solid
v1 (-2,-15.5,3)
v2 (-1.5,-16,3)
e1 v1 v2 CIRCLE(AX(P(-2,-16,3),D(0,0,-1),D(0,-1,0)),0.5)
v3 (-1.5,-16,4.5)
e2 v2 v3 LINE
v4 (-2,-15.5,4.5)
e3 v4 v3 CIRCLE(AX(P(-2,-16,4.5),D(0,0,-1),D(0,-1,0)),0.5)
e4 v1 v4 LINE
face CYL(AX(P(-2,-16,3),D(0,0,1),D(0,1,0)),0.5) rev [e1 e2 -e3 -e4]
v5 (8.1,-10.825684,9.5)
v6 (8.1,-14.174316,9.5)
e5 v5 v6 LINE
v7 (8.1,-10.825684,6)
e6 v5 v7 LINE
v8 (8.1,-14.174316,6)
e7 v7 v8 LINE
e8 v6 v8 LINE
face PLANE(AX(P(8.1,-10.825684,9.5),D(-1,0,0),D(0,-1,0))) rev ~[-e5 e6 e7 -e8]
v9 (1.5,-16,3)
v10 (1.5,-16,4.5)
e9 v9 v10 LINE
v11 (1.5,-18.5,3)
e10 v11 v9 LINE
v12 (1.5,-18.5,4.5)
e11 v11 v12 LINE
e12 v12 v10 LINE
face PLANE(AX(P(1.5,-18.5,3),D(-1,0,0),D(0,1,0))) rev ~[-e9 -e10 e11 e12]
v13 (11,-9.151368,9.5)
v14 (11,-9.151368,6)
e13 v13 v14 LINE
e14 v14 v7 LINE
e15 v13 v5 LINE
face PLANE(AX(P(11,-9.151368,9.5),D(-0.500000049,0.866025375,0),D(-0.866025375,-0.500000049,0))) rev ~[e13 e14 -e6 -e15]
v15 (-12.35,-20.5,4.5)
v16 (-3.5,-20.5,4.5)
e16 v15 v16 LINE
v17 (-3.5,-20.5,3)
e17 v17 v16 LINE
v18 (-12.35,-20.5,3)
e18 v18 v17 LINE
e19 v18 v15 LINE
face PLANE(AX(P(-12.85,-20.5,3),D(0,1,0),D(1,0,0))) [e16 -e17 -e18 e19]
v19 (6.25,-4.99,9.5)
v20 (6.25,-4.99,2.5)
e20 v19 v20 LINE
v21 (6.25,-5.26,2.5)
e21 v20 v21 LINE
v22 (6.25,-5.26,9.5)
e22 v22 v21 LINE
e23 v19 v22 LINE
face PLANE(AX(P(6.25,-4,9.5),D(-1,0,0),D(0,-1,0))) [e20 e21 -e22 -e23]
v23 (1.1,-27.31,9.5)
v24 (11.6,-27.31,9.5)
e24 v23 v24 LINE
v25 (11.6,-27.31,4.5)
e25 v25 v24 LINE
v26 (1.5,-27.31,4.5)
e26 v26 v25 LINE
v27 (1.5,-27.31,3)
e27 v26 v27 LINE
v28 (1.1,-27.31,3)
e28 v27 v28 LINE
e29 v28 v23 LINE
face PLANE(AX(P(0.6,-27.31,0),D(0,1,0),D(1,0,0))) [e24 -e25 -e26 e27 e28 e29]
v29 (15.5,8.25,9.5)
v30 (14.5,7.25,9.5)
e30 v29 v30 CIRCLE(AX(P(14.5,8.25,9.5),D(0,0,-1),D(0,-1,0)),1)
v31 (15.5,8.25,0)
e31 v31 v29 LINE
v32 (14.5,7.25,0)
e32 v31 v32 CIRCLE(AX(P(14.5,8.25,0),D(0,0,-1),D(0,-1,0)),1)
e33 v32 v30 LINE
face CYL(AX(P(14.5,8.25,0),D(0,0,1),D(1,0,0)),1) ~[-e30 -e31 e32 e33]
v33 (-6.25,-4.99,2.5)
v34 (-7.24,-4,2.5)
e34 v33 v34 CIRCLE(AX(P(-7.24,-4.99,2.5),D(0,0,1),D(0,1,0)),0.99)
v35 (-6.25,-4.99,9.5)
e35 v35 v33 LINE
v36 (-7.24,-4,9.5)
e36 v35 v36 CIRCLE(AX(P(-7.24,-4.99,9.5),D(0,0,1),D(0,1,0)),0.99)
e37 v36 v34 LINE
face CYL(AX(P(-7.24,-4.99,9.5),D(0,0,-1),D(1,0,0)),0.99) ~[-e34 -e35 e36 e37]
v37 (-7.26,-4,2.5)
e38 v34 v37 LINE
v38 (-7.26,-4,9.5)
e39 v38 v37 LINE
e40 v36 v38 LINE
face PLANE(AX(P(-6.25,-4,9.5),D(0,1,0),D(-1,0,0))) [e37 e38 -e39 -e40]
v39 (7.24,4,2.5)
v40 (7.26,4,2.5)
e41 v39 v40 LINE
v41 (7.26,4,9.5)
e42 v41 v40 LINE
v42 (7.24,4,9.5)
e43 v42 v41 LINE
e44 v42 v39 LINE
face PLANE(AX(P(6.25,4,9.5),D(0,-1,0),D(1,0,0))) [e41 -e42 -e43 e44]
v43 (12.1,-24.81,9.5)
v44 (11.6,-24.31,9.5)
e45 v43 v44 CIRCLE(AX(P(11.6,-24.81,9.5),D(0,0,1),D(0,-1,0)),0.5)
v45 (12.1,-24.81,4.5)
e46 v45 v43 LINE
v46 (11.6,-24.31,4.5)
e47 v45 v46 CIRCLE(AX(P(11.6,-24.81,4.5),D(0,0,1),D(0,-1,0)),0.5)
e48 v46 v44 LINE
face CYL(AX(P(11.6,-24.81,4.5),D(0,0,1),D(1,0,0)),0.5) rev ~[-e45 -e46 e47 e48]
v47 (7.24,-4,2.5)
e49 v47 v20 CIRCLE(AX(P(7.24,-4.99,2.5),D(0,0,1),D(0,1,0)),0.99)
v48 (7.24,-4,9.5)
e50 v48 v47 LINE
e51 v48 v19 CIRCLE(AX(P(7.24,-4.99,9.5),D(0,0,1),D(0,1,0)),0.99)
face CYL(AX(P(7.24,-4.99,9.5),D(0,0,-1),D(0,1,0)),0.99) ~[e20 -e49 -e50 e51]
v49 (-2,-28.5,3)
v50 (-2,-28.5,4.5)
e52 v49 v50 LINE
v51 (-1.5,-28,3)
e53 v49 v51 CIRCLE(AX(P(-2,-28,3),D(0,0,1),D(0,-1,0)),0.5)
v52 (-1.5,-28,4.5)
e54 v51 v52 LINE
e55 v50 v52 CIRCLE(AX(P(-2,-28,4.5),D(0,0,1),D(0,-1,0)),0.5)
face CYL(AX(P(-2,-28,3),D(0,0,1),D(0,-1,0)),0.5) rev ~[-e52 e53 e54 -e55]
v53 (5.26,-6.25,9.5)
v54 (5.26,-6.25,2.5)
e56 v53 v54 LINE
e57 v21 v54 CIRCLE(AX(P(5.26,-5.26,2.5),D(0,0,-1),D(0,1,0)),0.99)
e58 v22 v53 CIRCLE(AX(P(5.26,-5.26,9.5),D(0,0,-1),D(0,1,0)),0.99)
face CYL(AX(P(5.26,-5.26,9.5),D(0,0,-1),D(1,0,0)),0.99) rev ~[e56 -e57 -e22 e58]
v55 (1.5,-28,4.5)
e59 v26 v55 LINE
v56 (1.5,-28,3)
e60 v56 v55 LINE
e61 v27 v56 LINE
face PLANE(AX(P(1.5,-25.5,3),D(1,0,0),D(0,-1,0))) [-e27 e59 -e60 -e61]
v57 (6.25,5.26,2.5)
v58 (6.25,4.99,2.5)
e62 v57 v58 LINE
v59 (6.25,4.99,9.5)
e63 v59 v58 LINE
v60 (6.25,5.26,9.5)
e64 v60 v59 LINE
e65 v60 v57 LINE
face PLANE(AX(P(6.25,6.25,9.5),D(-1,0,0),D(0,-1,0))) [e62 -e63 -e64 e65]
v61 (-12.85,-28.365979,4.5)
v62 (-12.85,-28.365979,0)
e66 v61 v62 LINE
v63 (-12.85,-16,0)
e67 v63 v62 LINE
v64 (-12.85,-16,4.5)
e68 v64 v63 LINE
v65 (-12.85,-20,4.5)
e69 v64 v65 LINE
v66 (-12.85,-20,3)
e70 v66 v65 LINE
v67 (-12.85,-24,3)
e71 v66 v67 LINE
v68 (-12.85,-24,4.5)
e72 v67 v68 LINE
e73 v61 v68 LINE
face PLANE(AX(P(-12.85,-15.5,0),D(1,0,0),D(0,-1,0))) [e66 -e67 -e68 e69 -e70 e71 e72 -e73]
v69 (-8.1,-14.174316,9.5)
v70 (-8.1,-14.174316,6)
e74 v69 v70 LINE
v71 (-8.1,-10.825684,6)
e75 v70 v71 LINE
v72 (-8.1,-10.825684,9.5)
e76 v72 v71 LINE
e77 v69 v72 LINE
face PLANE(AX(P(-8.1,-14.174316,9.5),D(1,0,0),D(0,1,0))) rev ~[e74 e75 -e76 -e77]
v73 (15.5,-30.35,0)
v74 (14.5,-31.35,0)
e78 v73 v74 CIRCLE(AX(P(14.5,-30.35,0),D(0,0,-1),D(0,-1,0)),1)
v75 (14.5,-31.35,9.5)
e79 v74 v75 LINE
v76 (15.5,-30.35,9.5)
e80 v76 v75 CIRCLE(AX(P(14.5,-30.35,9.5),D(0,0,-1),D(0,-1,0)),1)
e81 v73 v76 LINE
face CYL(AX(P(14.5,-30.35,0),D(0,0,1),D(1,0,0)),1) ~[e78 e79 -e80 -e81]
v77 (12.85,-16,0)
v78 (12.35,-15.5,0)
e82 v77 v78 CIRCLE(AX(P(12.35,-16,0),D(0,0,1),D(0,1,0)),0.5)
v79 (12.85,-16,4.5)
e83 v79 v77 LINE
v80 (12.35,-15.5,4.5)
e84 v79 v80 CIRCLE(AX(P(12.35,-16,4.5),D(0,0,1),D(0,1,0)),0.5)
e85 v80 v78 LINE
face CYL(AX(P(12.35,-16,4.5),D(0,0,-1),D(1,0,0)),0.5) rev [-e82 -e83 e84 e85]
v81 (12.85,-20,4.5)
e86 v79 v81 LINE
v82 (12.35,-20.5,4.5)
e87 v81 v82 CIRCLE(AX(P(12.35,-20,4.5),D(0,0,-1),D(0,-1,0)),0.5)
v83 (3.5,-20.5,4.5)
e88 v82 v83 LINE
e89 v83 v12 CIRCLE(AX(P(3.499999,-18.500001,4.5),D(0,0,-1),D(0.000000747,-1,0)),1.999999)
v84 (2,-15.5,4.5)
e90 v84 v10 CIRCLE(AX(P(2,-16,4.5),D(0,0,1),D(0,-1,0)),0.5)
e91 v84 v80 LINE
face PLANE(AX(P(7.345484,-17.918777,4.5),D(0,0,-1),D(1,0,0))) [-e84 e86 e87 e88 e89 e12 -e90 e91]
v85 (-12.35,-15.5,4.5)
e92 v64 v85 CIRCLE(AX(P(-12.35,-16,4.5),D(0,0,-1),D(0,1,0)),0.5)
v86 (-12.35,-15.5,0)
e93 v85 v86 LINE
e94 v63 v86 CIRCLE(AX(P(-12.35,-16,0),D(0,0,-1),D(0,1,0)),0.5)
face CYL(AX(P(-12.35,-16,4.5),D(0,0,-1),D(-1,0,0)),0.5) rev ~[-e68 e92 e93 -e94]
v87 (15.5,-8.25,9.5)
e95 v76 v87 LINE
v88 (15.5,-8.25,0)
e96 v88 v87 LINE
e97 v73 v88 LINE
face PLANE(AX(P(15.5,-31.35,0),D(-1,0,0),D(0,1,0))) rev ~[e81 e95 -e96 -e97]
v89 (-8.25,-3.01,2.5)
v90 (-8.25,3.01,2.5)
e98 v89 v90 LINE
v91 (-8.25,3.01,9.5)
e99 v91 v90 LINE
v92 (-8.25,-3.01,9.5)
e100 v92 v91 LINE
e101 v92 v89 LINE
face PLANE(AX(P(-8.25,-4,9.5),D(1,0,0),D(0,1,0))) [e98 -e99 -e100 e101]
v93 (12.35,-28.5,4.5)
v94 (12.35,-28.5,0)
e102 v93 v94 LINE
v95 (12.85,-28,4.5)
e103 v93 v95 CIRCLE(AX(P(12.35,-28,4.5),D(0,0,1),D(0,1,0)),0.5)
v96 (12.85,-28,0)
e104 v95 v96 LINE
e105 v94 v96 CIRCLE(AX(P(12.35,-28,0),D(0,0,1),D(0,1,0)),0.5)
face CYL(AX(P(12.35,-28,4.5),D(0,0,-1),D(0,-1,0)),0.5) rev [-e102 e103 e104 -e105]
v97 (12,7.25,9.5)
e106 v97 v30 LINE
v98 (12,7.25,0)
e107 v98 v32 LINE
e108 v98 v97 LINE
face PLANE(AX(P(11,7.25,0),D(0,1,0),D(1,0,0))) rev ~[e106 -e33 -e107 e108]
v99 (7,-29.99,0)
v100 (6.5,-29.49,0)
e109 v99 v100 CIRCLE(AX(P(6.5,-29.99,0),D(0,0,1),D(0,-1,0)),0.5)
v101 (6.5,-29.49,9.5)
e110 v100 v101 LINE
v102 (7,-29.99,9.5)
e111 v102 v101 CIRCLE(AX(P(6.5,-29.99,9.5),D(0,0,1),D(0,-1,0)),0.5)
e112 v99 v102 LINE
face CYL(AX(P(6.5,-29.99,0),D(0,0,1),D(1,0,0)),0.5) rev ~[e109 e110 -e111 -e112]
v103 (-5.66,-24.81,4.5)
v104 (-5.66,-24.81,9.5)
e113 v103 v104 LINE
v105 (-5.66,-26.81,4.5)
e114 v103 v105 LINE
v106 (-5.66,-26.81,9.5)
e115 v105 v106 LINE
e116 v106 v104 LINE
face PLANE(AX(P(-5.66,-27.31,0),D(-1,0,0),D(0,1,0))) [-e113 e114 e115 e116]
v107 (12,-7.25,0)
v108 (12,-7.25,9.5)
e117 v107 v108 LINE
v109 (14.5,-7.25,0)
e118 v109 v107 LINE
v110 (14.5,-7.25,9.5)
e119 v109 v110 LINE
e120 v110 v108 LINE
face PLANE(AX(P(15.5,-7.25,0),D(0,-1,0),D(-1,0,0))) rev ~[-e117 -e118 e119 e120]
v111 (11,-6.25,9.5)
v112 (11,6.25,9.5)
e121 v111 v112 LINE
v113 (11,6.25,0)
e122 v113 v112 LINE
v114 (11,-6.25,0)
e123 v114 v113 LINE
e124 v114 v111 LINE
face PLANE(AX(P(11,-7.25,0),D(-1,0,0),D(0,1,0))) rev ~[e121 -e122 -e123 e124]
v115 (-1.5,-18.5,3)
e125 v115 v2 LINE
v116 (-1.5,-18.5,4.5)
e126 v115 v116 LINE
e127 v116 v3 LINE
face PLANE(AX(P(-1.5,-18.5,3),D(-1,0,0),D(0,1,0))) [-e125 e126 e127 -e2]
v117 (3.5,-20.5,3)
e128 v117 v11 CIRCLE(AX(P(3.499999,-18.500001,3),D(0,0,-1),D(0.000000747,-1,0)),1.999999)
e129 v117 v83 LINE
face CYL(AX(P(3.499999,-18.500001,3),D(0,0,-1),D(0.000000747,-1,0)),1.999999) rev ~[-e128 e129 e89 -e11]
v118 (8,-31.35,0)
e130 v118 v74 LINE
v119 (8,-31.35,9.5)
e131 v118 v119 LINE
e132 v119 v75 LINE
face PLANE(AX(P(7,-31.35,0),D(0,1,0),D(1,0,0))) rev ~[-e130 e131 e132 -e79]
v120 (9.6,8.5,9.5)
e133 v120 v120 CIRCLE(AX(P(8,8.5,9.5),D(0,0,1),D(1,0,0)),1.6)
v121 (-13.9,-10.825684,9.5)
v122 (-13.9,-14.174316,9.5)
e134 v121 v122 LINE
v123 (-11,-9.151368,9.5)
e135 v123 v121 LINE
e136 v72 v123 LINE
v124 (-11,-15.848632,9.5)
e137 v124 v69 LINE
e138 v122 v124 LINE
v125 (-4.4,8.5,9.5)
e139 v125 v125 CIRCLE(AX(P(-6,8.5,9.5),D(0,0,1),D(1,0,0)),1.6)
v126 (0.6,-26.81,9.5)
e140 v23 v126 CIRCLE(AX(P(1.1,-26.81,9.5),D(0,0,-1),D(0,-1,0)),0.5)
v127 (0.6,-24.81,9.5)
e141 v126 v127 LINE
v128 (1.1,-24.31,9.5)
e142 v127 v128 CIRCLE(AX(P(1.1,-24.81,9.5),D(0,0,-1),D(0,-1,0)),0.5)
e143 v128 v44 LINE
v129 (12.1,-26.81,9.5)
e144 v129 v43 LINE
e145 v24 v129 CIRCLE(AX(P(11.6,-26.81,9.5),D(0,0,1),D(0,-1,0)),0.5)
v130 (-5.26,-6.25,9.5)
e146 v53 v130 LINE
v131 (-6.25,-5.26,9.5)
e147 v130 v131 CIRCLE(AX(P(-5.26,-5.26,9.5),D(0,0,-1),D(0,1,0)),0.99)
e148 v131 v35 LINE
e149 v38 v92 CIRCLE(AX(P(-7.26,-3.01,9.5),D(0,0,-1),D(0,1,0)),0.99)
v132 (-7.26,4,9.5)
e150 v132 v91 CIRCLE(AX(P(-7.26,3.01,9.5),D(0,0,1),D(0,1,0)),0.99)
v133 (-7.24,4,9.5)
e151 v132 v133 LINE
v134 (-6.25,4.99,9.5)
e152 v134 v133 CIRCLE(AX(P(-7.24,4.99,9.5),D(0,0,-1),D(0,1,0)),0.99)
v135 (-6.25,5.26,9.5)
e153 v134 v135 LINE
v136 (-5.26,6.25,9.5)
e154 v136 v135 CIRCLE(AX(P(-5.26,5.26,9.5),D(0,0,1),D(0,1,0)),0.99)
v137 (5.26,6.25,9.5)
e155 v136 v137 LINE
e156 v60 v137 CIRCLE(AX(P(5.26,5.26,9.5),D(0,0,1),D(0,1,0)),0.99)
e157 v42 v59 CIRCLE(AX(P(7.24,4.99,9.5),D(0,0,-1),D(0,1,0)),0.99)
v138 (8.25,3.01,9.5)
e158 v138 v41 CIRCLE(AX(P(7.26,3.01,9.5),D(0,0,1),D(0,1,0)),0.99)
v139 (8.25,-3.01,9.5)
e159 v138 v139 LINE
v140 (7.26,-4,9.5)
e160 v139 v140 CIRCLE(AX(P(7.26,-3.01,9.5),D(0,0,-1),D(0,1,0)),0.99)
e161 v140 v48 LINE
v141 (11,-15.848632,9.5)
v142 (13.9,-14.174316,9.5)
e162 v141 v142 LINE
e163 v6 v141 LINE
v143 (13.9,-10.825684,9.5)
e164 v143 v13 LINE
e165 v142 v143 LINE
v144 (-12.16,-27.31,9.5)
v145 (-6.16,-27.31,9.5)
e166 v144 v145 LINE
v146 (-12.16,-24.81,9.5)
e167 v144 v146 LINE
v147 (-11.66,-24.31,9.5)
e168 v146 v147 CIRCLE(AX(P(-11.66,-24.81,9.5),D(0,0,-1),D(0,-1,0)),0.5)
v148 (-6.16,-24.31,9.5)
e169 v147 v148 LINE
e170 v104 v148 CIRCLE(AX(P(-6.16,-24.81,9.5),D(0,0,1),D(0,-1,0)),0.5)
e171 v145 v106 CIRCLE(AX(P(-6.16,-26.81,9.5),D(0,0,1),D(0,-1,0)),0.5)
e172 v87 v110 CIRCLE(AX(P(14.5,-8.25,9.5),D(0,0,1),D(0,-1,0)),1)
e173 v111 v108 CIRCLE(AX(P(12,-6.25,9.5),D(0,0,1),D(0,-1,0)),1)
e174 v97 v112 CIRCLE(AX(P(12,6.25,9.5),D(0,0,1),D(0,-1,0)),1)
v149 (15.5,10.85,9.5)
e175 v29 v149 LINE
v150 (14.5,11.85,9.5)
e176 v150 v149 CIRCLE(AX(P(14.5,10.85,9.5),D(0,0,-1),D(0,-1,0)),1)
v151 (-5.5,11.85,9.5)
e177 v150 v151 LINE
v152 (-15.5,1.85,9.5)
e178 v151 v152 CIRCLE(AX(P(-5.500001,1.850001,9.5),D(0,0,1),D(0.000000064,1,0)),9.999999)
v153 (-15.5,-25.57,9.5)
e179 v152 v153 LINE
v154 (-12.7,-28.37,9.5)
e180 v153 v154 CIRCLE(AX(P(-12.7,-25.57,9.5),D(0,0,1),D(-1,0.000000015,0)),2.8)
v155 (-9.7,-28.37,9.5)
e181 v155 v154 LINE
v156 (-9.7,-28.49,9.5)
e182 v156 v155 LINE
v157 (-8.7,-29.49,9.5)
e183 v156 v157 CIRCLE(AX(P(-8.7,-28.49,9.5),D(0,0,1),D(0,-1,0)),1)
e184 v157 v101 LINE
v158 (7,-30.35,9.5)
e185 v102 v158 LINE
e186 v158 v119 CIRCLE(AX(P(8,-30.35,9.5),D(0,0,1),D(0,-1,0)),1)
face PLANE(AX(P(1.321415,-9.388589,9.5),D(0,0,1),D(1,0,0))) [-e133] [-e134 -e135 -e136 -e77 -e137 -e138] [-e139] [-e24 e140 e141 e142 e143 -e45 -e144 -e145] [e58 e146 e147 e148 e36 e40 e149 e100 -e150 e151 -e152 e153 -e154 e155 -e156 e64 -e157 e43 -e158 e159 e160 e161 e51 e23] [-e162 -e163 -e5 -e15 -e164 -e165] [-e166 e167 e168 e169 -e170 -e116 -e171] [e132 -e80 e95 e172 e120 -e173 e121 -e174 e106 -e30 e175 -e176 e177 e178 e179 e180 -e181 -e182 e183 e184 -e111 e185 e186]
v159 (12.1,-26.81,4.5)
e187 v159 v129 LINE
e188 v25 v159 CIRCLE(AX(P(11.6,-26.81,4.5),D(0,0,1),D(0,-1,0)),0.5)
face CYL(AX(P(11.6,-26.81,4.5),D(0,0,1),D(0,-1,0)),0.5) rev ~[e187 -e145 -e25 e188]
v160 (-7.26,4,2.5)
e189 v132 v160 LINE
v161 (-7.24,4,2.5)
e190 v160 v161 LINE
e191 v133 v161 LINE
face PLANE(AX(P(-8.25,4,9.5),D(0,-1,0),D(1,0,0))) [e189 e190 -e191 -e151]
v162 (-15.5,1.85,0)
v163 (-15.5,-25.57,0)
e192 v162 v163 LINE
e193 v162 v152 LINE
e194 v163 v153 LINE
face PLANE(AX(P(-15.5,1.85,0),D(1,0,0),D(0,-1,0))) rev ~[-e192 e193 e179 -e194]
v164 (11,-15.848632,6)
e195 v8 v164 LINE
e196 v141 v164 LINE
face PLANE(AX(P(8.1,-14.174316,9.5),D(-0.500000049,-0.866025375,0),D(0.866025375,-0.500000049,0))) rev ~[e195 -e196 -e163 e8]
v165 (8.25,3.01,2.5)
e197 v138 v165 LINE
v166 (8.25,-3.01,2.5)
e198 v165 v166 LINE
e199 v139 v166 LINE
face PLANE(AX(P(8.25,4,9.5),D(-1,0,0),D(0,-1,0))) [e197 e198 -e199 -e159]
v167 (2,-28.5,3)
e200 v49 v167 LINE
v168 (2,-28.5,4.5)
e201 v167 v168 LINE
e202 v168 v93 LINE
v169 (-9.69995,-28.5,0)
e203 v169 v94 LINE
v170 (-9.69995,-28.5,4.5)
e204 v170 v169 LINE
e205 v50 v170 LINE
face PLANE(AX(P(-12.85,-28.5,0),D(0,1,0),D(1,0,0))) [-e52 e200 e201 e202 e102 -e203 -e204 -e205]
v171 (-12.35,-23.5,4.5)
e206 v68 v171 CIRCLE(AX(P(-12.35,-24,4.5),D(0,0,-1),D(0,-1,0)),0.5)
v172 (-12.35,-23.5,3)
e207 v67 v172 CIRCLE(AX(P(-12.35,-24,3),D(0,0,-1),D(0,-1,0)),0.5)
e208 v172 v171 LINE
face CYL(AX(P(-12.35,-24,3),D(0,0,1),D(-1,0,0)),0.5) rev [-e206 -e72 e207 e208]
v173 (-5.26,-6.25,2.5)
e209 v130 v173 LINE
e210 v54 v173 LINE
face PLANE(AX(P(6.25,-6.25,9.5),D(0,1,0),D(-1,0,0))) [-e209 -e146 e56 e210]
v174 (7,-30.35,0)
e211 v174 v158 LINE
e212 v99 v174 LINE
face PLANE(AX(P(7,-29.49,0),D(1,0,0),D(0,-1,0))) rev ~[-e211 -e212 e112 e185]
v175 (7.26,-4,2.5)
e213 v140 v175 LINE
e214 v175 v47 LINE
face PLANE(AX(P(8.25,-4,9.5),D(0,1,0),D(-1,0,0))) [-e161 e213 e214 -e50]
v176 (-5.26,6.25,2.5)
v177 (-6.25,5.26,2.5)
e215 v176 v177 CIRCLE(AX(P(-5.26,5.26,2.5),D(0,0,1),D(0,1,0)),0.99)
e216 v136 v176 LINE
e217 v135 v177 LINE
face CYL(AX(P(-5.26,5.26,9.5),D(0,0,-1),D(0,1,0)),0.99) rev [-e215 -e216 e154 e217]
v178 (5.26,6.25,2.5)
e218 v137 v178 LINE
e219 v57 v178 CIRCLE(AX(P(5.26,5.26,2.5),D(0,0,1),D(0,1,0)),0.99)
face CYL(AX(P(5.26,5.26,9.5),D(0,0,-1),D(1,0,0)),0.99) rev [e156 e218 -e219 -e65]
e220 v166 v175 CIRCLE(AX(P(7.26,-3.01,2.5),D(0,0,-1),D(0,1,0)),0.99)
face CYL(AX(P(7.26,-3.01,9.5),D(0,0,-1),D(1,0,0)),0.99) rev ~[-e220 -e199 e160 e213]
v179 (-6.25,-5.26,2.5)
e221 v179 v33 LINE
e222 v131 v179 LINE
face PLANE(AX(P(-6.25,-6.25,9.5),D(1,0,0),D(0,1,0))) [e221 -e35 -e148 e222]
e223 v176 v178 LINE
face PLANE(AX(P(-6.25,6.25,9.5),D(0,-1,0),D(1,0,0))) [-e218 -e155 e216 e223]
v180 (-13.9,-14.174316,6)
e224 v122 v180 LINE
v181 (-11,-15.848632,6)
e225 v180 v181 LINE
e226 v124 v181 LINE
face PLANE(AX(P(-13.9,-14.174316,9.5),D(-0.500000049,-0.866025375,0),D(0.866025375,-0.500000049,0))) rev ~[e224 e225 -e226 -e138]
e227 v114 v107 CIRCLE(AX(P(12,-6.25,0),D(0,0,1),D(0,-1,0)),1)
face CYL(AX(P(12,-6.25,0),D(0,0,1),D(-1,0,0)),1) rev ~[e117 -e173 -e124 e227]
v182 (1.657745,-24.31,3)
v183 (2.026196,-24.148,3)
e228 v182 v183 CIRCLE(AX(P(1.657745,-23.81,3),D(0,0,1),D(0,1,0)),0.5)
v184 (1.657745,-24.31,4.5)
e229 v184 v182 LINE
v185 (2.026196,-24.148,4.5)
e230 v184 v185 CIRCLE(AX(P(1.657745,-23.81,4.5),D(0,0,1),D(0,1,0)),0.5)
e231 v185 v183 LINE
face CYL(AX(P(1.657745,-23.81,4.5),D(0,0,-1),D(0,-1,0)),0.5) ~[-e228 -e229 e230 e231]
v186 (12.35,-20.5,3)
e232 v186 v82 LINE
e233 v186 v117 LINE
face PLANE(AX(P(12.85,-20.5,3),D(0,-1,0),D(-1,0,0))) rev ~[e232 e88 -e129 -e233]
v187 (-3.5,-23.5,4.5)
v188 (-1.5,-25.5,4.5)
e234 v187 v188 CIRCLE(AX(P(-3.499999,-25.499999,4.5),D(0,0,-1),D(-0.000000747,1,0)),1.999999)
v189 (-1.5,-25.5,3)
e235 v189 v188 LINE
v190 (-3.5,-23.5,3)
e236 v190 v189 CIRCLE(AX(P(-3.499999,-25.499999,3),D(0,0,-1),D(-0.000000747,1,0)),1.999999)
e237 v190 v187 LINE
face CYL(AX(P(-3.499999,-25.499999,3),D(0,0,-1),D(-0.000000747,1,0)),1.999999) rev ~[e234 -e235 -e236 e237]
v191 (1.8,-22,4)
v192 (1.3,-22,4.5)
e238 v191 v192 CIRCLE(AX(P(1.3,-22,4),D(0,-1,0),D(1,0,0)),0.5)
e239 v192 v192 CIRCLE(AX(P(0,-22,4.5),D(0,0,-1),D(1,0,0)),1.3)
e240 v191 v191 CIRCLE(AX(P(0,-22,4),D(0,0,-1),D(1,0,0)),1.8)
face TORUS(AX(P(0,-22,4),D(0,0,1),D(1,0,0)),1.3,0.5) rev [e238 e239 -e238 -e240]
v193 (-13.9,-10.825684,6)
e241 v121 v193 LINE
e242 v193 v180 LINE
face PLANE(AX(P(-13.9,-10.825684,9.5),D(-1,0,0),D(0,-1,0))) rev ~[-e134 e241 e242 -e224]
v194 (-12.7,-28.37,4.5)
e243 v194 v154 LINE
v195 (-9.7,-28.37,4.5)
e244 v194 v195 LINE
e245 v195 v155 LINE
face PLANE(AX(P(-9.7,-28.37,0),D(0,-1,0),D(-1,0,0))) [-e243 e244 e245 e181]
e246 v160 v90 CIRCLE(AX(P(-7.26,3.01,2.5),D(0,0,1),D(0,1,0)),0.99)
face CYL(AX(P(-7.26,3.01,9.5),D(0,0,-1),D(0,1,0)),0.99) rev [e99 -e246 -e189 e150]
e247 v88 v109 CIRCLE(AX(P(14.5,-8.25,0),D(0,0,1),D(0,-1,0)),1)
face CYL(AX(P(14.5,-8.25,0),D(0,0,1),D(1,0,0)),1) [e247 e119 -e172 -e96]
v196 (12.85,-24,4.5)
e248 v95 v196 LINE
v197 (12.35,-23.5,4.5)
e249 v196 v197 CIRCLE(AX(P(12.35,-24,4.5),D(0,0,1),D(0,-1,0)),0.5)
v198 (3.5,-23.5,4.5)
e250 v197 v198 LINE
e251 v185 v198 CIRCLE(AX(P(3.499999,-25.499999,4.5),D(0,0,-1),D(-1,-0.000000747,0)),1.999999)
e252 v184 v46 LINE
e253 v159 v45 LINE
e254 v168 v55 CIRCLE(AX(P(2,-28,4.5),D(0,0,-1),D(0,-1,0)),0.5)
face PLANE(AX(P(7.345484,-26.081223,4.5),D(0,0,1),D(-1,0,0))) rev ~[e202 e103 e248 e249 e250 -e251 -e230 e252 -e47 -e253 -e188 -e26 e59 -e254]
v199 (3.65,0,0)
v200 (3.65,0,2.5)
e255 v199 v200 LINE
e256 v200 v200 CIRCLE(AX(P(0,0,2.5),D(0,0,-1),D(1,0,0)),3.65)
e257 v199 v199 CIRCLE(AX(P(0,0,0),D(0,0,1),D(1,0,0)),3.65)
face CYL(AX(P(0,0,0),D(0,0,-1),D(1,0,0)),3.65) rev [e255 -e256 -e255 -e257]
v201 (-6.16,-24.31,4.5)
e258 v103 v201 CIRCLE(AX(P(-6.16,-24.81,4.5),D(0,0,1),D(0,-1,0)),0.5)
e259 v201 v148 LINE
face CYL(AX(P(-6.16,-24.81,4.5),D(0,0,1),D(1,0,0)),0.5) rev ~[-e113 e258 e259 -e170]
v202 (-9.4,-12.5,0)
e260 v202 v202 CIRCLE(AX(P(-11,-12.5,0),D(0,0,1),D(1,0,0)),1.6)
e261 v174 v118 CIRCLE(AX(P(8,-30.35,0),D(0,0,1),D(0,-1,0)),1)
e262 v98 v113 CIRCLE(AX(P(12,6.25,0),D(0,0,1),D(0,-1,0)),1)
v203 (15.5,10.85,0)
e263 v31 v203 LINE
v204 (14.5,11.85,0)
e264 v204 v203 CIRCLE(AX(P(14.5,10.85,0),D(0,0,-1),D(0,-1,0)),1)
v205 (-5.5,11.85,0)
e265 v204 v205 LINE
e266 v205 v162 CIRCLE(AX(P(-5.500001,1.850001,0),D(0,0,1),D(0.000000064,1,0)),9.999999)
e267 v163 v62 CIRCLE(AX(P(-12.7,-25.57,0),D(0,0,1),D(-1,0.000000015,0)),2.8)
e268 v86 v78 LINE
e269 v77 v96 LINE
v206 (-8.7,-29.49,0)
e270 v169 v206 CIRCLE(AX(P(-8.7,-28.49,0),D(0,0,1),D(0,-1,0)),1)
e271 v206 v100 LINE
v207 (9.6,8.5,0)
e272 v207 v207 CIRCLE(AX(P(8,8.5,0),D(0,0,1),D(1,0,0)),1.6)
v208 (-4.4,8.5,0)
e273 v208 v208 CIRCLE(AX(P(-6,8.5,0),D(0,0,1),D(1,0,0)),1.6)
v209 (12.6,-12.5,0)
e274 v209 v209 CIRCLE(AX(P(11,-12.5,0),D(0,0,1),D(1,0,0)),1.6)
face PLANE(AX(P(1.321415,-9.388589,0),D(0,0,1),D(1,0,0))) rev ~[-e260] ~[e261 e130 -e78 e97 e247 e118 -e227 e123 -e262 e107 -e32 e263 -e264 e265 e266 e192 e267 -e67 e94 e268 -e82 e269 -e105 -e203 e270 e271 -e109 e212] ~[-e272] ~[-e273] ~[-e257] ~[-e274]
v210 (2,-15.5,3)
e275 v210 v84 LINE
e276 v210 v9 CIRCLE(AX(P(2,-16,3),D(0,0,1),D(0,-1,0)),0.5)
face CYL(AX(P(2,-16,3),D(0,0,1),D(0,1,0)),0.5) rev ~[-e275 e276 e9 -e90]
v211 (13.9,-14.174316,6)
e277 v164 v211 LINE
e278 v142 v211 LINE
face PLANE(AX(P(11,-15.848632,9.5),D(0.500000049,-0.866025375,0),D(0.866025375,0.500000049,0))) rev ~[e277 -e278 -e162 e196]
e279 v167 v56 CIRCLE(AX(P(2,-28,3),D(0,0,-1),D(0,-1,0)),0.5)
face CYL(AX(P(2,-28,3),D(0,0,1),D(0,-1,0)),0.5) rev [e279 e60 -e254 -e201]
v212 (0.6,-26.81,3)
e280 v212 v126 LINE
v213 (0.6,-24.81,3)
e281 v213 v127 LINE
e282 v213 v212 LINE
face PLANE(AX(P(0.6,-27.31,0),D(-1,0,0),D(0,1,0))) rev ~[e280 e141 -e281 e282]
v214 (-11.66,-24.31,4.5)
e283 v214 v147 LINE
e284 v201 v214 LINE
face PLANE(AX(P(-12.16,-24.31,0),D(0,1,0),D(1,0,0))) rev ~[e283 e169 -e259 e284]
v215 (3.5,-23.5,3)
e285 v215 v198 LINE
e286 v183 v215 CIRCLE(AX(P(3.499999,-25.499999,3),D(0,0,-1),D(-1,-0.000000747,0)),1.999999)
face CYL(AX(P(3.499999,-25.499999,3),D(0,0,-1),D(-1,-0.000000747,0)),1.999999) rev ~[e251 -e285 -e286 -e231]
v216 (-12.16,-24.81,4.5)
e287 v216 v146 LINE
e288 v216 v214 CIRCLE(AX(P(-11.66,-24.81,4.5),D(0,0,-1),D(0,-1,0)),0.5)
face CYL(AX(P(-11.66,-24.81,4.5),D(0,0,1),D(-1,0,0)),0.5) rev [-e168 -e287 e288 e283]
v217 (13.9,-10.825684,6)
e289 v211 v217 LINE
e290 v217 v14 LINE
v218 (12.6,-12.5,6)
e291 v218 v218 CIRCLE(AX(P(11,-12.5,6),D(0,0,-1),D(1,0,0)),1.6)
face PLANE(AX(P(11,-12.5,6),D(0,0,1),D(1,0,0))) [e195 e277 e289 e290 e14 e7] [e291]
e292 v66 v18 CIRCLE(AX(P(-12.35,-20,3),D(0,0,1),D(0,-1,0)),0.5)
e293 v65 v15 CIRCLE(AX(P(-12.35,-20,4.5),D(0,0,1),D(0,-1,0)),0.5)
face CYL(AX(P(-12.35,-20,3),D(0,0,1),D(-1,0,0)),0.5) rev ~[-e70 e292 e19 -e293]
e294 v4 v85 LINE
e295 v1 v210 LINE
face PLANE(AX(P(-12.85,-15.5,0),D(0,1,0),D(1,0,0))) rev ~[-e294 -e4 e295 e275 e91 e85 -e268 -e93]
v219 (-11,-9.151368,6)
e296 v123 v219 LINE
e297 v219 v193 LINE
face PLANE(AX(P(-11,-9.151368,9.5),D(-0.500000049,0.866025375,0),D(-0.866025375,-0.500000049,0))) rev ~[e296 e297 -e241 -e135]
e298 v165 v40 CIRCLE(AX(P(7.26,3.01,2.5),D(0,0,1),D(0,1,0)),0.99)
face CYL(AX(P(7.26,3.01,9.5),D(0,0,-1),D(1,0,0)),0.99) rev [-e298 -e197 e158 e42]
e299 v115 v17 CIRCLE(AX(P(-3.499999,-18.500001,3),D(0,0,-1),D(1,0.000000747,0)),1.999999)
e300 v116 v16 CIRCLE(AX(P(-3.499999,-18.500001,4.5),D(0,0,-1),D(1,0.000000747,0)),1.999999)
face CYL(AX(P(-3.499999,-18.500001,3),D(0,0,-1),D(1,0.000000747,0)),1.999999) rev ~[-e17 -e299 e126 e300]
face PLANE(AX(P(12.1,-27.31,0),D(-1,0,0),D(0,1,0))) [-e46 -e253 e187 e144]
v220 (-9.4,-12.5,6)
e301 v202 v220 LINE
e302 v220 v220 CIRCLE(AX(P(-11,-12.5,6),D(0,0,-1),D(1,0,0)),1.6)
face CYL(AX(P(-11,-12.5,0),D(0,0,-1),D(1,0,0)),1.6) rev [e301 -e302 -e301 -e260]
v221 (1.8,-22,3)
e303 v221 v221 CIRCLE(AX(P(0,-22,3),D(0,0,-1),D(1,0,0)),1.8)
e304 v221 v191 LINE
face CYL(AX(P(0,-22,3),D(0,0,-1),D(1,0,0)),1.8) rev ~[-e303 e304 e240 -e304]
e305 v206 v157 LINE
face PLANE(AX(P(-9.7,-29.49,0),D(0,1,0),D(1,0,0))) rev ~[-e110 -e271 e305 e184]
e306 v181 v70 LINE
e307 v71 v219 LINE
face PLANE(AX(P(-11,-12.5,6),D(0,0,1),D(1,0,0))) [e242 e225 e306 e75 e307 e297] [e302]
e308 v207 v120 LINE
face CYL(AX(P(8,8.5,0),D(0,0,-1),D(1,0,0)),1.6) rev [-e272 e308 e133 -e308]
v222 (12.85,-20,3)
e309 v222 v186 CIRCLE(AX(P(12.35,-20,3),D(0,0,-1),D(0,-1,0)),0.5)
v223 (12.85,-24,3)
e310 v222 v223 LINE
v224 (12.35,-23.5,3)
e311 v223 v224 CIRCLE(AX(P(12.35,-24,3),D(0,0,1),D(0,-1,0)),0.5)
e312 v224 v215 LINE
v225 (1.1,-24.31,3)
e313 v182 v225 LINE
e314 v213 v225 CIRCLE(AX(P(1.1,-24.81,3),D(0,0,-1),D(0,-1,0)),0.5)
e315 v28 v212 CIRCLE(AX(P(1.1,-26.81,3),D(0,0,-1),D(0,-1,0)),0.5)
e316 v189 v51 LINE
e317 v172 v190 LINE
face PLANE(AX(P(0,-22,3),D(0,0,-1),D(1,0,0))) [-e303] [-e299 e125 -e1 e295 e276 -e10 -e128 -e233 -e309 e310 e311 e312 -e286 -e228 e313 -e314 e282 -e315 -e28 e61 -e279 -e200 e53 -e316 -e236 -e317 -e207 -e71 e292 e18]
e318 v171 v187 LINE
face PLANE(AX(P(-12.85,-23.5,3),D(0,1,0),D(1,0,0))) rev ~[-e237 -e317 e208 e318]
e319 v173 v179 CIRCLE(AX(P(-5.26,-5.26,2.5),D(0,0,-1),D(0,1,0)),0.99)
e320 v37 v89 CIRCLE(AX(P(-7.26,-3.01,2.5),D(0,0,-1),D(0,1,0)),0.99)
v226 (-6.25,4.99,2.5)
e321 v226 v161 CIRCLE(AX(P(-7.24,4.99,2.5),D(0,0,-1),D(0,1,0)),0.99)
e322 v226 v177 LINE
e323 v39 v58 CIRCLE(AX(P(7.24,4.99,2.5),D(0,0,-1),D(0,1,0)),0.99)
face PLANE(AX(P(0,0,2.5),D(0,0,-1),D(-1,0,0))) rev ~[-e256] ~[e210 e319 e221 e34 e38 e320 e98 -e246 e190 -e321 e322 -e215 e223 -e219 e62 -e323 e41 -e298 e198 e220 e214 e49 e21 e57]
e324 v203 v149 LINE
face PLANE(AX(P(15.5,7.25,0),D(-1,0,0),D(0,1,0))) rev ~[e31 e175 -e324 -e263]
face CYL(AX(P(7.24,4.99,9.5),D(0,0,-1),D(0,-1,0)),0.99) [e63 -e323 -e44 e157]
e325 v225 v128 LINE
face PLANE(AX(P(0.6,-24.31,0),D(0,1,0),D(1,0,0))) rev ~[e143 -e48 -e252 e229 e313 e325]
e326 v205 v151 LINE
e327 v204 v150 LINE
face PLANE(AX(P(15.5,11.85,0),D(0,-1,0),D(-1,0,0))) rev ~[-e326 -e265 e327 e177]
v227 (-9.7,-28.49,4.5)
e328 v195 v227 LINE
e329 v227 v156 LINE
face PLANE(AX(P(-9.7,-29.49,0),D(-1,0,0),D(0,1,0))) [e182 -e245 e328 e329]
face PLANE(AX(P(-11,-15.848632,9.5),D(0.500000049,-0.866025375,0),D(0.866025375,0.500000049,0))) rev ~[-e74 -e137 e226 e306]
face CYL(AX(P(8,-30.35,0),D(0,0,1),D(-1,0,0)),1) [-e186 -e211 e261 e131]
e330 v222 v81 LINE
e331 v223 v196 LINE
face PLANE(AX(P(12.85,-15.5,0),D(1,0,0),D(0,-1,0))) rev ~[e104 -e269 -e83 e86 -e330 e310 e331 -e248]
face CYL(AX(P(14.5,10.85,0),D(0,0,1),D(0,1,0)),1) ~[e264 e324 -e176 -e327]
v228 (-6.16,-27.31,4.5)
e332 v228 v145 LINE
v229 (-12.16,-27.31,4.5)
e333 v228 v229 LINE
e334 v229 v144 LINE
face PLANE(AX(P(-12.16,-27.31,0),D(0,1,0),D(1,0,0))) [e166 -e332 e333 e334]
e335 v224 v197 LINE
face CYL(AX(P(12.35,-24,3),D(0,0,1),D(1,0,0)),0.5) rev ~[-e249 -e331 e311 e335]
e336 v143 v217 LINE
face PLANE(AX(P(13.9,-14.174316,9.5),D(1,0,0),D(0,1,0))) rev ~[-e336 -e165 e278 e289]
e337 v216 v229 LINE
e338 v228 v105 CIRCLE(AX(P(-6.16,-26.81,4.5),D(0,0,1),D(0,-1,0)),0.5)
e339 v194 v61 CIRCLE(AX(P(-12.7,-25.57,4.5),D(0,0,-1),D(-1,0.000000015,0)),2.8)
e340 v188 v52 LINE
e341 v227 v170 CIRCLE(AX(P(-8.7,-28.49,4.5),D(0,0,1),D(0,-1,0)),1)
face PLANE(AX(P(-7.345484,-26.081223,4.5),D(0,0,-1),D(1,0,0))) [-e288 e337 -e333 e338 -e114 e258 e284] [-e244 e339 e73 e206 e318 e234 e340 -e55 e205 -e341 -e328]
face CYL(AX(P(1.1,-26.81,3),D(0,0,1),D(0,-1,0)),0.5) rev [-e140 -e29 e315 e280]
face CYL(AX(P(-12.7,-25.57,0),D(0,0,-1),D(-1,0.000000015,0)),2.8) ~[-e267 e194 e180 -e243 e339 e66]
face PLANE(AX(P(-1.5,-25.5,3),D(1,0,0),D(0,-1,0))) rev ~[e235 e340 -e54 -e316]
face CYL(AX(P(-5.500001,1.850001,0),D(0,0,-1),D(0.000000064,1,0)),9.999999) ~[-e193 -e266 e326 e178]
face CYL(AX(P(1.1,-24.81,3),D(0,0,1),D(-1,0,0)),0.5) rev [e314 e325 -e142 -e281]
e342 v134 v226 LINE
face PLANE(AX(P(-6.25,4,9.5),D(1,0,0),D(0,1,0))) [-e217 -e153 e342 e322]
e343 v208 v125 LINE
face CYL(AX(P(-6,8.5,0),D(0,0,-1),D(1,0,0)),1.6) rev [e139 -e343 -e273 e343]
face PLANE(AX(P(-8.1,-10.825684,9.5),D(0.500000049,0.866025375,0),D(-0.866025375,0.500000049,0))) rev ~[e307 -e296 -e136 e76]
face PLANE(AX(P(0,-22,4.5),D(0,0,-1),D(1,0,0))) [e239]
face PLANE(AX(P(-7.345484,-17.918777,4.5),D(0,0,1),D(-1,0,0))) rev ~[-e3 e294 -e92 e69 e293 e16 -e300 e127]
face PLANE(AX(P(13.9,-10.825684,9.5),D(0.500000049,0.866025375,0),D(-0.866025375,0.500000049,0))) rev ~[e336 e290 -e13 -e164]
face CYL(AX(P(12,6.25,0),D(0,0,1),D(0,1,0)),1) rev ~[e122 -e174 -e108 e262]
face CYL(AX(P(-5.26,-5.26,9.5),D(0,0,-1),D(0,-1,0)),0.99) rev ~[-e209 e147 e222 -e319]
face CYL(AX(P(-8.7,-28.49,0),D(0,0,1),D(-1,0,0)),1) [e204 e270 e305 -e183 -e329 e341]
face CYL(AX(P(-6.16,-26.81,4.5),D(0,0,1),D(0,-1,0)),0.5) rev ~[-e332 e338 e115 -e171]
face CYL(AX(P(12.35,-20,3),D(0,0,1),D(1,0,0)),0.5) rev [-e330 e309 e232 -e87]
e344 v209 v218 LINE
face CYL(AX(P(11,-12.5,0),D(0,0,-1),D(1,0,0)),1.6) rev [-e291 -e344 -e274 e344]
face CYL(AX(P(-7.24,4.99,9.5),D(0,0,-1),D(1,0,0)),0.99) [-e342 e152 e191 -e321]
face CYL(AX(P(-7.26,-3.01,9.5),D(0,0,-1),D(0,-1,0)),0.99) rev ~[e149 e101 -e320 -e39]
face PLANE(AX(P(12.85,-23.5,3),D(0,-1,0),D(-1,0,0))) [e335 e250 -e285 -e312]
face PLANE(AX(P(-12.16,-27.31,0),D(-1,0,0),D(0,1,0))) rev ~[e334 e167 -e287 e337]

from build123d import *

# Parameters (mm, degrees)
SKETCH021_R     = 3.65
SKETCH021_R_2   = 1.6
SKETCH021_W     = 6.5
SKETCH021_H     = 3
SKETCH021_W_2   = 11.5
PAD009_DEPTH    = 9.5
POCKET012_DEPTH = 7
POCKET010_DEPTH = 3.5
SKETCH022_W     = 25.7
SKETCH022_H     = 13
POCKET011_DEPTH = 3
SKETCH023_R     = 1.8
POCKET009_DEPTH = 1.5
FILLET006_R     = 1
FILLET007_R     = 0.99
FILLET008_R     = 0.5


with BuildPart() as part:
    # Sketch021 → Pad009 (new body)
    with BuildSketch(Plane.XY):
        with BuildLine():
            Line((15.5, -31.35), (15.5, -7.25))
            Line((15.5, -7.25), (11, -7.25))
            Line((11, -7.25), (11, 7.25))
            Line((11, 7.25), (15.5, 7.25))
            Line((15.5, 7.25), (15.5, 11.85))
            Line((15.5, 11.85), (-5.5, 11.85))
            ThreePointArc((-5.5, 11.85), (-12.571068, 8.921068), (-15.5, 1.85))
            Line((-15.5, 1.85), (-15.5, -25.57))
            ThreePointArc((-15.5, -25.57), (-14.679899, -27.549899), (-12.7, -28.37))
            Line((-9.7, -28.37), (-12.7, -28.37))
            Line((-9.7, -29.49), (-9.7, -28.37))
            Line((-9.7, -29.49), (7, -29.49))
            Line((7, -29.49), (7, -31.35))
            Line((7, -31.35), (15.5, -31.35))
        make_face()
        Circle(SKETCH021_R, mode=Mode.SUBTRACT)
        with Locations((-11, -12.5)):
            Circle(SKETCH021_R_2, mode=Mode.SUBTRACT)
        with Locations((11, -12.5)):
            Circle(SKETCH021_R_2, mode=Mode.SUBTRACT)
        with Locations((-6, 8.5)):
            Circle(SKETCH021_R_2, mode=Mode.SUBTRACT)
        with Locations((8, 8.5)):
            Circle(SKETCH021_R_2, mode=Mode.SUBTRACT)
        with Locations((-8.91, -25.81)):
            Rectangle(SKETCH021_W, SKETCH021_H, mode=Mode.SUBTRACT)
        with Locations((6.35, -25.81)):
            Rectangle(SKETCH021_W_2, SKETCH021_H, mode=Mode.SUBTRACT)
    extrude(amount=PAD009_DEPTH)

    # Sketch019 (on Face29 of Pad009) → Pocket012 (cut)
    with BuildSketch(Plane.XY.offset(9.5)):
        Polygon((8.25, -4), (6.25, -4), (6.25, -6.25), (-6.25, -6.25), (-6.25, -4), (-8.25, -4), (-8.25, 4), (-6.25, 4), (-6.25, 6.25), (6.25, 6.25), (6.25, 4), (8.25, 4), align=None)
    extrude(amount=-POCKET012_DEPTH, mode=Mode.SUBTRACT)

    # Sketch020 (on Face5 of Pocket012) → Pocket010 (cut)
    with BuildSketch(Plane.XY.offset(9.5)):
        Polygon((-8.1, -14.174316), (-8.1, -10.825684), (-11, -9.151368), (-13.9, -10.825684), (-13.9, -14.174316), (-11, -15.848632), align=None)
        Polygon((13.9, -14.174316), (13.9, -10.825684), (11, -9.151368), (8.1, -10.825684), (8.1, -14.174316), (11, -15.848632), align=None)
    extrude(amount=-POCKET010_DEPTH, mode=Mode.SUBTRACT)

    # Sketch022 (on Face4 of Pocket010) → Pocket011 (cut)
    with BuildSketch(Plane(origin=(0, 0, 0), x_dir=(1, 0, 0), z_dir=(0, 0, -1))):
        with Locations((0, 22)):
            Rectangle(SKETCH022_W, SKETCH022_H)
    extrude(amount=-POCKET011_DEPTH, mode=Mode.SUBTRACT)

    # Sketch023 (on Face7 of Pocket011) → Pocket009 (cut)
    with BuildSketch(Plane(origin=(0, 0, 3), x_dir=(1, 0, 0), z_dir=(0, 0, -1))):
        with Locations((0, 22)):
            Circle(SKETCH023_R)
        with BuildLine():
            Line((1.5, 15.5), (12.85, 15.5))
            Line((12.85, 15.5), (12.85, 20.5))
            Line((12.85, 20.5), (3.5, 20.5))
            ThreePointArc((3.5, 20.5), (2.085786, 19.914214), (1.5, 18.5))
            Line((1.5, 18.5), (1.5, 15.5))
        make_face()
        with BuildLine():
            Line((-1.5, 15.5), (-12.85, 15.5))
            Line((-12.85, 15.5), (-12.85, 20.5))
            Line((-12.85, 20.5), (-3.5, 20.5))
            ThreePointArc((-1.5, 18.5), (-2.085786, 19.914214), (-3.5, 20.5))
            Line((-1.5, 18.5), (-1.5, 15.5))
        make_face()
        with BuildLine():
            Line((12.85, 23.5), (3.5, 23.5))
            ThreePointArc((1.5, 25.5), (2.085786, 24.085786), (3.5, 23.5))
            Line((1.5, 25.5), (1.5, 28.5))
            Line((1.5, 28.5), (12.85, 28.5))
            Line((12.85, 28.5), (12.85, 23.5))
        make_face()
        with BuildLine():
            Line((-12.85, 23.5), (-3.5, 23.5))
            ThreePointArc((-3.5, 23.5), (-2.085786, 24.085786), (-1.5, 25.5))
            Line((-1.5, 25.5), (-1.5, 28.5))
            Line((-1.5, 28.5), (-12.85, 28.5))
            Line((-12.85, 28.5), (-12.85, 23.5))
        make_face()
    extrude(amount=-POCKET009_DEPTH, mode=Mode.SUBTRACT)

    # Fillet006
    fillet006_edges = [part.edges().sort_by_distance(p)[0] for p in [
        (15.5, 11.85, 4.75),
        (15.5, 7.25, 4.75),
        (11, 7.25, 4.75),
        (15.5, -7.25, 4.75),
        (15.5, -31.35, 4.75),
        (7, -31.35, 4.75),
        (-9.7, -29.49, 4.75),
        (11, -7.25, 4.75),
    ]]
    fillet(fillet006_edges, radius=FILLET006_R)

    # Fillet007
    fillet007_edges = [part.edges().sort_by_distance(p)[0] for p in [
        (-8.25, 4, 6),
        (-6.25, 4, 6),
        (-6.25, 6.25, 6),
        (6.25, 4, 6),
        (-6.25, -4, 6),
        (-8.25, -4, 6),
        (-6.25, -6.25, 6),
        (6.25, -6.25, 6),
        (6.25, -4, 6),
        (8.25, -4, 6),
        (6.25, 6.25, 6),
        (8.25, 4, 6),
    ]]
    fillet(fillet007_edges, radius=FILLET007_R)

    # Fillet008
    fillet008_edges = [part.edges().sort_by_distance(p)[0] for p in [
        (-12.85, -15.5, 1.5),
        (-12.85, -15.5, 3.75),
        (-12.16, -24.31, 7),
        (12.85, -15.5, 3.75),
        (12.85, -15.5, 1.5),
        (-1.5, -15.5, 3.75),
        (1.892549, -24.31, 3.75),
        (-5.66, -27.31, 7),
        (-1.5, -28.5, 3.75),
        (-1.8, -22, 4.5),
        (12.1, -27.31, 7),
        (12.85, -28.5, 3.75),
        (12.85, -28.5, 1.5),
        (12.85, -20.5, 3.75),
        (12.85, -23.5, 3.75),
        (1.5, -28.5, 3.75),
        (0.6, -27.31, 6.25),
        (0.6, -24.31, 6.25),
        (1.5, -15.5, 3.75),
        (12.1, -24.31, 7),
        (-5.66, -24.31, 7),
        (-12.85, -23.5, 3.75),
        (-12.85, -20.5, 3.75),
        (7, -29.49, 4.75),
    ]]
    fillet(fillet008_edges, radius=FILLET008_R)


solid = part.part
